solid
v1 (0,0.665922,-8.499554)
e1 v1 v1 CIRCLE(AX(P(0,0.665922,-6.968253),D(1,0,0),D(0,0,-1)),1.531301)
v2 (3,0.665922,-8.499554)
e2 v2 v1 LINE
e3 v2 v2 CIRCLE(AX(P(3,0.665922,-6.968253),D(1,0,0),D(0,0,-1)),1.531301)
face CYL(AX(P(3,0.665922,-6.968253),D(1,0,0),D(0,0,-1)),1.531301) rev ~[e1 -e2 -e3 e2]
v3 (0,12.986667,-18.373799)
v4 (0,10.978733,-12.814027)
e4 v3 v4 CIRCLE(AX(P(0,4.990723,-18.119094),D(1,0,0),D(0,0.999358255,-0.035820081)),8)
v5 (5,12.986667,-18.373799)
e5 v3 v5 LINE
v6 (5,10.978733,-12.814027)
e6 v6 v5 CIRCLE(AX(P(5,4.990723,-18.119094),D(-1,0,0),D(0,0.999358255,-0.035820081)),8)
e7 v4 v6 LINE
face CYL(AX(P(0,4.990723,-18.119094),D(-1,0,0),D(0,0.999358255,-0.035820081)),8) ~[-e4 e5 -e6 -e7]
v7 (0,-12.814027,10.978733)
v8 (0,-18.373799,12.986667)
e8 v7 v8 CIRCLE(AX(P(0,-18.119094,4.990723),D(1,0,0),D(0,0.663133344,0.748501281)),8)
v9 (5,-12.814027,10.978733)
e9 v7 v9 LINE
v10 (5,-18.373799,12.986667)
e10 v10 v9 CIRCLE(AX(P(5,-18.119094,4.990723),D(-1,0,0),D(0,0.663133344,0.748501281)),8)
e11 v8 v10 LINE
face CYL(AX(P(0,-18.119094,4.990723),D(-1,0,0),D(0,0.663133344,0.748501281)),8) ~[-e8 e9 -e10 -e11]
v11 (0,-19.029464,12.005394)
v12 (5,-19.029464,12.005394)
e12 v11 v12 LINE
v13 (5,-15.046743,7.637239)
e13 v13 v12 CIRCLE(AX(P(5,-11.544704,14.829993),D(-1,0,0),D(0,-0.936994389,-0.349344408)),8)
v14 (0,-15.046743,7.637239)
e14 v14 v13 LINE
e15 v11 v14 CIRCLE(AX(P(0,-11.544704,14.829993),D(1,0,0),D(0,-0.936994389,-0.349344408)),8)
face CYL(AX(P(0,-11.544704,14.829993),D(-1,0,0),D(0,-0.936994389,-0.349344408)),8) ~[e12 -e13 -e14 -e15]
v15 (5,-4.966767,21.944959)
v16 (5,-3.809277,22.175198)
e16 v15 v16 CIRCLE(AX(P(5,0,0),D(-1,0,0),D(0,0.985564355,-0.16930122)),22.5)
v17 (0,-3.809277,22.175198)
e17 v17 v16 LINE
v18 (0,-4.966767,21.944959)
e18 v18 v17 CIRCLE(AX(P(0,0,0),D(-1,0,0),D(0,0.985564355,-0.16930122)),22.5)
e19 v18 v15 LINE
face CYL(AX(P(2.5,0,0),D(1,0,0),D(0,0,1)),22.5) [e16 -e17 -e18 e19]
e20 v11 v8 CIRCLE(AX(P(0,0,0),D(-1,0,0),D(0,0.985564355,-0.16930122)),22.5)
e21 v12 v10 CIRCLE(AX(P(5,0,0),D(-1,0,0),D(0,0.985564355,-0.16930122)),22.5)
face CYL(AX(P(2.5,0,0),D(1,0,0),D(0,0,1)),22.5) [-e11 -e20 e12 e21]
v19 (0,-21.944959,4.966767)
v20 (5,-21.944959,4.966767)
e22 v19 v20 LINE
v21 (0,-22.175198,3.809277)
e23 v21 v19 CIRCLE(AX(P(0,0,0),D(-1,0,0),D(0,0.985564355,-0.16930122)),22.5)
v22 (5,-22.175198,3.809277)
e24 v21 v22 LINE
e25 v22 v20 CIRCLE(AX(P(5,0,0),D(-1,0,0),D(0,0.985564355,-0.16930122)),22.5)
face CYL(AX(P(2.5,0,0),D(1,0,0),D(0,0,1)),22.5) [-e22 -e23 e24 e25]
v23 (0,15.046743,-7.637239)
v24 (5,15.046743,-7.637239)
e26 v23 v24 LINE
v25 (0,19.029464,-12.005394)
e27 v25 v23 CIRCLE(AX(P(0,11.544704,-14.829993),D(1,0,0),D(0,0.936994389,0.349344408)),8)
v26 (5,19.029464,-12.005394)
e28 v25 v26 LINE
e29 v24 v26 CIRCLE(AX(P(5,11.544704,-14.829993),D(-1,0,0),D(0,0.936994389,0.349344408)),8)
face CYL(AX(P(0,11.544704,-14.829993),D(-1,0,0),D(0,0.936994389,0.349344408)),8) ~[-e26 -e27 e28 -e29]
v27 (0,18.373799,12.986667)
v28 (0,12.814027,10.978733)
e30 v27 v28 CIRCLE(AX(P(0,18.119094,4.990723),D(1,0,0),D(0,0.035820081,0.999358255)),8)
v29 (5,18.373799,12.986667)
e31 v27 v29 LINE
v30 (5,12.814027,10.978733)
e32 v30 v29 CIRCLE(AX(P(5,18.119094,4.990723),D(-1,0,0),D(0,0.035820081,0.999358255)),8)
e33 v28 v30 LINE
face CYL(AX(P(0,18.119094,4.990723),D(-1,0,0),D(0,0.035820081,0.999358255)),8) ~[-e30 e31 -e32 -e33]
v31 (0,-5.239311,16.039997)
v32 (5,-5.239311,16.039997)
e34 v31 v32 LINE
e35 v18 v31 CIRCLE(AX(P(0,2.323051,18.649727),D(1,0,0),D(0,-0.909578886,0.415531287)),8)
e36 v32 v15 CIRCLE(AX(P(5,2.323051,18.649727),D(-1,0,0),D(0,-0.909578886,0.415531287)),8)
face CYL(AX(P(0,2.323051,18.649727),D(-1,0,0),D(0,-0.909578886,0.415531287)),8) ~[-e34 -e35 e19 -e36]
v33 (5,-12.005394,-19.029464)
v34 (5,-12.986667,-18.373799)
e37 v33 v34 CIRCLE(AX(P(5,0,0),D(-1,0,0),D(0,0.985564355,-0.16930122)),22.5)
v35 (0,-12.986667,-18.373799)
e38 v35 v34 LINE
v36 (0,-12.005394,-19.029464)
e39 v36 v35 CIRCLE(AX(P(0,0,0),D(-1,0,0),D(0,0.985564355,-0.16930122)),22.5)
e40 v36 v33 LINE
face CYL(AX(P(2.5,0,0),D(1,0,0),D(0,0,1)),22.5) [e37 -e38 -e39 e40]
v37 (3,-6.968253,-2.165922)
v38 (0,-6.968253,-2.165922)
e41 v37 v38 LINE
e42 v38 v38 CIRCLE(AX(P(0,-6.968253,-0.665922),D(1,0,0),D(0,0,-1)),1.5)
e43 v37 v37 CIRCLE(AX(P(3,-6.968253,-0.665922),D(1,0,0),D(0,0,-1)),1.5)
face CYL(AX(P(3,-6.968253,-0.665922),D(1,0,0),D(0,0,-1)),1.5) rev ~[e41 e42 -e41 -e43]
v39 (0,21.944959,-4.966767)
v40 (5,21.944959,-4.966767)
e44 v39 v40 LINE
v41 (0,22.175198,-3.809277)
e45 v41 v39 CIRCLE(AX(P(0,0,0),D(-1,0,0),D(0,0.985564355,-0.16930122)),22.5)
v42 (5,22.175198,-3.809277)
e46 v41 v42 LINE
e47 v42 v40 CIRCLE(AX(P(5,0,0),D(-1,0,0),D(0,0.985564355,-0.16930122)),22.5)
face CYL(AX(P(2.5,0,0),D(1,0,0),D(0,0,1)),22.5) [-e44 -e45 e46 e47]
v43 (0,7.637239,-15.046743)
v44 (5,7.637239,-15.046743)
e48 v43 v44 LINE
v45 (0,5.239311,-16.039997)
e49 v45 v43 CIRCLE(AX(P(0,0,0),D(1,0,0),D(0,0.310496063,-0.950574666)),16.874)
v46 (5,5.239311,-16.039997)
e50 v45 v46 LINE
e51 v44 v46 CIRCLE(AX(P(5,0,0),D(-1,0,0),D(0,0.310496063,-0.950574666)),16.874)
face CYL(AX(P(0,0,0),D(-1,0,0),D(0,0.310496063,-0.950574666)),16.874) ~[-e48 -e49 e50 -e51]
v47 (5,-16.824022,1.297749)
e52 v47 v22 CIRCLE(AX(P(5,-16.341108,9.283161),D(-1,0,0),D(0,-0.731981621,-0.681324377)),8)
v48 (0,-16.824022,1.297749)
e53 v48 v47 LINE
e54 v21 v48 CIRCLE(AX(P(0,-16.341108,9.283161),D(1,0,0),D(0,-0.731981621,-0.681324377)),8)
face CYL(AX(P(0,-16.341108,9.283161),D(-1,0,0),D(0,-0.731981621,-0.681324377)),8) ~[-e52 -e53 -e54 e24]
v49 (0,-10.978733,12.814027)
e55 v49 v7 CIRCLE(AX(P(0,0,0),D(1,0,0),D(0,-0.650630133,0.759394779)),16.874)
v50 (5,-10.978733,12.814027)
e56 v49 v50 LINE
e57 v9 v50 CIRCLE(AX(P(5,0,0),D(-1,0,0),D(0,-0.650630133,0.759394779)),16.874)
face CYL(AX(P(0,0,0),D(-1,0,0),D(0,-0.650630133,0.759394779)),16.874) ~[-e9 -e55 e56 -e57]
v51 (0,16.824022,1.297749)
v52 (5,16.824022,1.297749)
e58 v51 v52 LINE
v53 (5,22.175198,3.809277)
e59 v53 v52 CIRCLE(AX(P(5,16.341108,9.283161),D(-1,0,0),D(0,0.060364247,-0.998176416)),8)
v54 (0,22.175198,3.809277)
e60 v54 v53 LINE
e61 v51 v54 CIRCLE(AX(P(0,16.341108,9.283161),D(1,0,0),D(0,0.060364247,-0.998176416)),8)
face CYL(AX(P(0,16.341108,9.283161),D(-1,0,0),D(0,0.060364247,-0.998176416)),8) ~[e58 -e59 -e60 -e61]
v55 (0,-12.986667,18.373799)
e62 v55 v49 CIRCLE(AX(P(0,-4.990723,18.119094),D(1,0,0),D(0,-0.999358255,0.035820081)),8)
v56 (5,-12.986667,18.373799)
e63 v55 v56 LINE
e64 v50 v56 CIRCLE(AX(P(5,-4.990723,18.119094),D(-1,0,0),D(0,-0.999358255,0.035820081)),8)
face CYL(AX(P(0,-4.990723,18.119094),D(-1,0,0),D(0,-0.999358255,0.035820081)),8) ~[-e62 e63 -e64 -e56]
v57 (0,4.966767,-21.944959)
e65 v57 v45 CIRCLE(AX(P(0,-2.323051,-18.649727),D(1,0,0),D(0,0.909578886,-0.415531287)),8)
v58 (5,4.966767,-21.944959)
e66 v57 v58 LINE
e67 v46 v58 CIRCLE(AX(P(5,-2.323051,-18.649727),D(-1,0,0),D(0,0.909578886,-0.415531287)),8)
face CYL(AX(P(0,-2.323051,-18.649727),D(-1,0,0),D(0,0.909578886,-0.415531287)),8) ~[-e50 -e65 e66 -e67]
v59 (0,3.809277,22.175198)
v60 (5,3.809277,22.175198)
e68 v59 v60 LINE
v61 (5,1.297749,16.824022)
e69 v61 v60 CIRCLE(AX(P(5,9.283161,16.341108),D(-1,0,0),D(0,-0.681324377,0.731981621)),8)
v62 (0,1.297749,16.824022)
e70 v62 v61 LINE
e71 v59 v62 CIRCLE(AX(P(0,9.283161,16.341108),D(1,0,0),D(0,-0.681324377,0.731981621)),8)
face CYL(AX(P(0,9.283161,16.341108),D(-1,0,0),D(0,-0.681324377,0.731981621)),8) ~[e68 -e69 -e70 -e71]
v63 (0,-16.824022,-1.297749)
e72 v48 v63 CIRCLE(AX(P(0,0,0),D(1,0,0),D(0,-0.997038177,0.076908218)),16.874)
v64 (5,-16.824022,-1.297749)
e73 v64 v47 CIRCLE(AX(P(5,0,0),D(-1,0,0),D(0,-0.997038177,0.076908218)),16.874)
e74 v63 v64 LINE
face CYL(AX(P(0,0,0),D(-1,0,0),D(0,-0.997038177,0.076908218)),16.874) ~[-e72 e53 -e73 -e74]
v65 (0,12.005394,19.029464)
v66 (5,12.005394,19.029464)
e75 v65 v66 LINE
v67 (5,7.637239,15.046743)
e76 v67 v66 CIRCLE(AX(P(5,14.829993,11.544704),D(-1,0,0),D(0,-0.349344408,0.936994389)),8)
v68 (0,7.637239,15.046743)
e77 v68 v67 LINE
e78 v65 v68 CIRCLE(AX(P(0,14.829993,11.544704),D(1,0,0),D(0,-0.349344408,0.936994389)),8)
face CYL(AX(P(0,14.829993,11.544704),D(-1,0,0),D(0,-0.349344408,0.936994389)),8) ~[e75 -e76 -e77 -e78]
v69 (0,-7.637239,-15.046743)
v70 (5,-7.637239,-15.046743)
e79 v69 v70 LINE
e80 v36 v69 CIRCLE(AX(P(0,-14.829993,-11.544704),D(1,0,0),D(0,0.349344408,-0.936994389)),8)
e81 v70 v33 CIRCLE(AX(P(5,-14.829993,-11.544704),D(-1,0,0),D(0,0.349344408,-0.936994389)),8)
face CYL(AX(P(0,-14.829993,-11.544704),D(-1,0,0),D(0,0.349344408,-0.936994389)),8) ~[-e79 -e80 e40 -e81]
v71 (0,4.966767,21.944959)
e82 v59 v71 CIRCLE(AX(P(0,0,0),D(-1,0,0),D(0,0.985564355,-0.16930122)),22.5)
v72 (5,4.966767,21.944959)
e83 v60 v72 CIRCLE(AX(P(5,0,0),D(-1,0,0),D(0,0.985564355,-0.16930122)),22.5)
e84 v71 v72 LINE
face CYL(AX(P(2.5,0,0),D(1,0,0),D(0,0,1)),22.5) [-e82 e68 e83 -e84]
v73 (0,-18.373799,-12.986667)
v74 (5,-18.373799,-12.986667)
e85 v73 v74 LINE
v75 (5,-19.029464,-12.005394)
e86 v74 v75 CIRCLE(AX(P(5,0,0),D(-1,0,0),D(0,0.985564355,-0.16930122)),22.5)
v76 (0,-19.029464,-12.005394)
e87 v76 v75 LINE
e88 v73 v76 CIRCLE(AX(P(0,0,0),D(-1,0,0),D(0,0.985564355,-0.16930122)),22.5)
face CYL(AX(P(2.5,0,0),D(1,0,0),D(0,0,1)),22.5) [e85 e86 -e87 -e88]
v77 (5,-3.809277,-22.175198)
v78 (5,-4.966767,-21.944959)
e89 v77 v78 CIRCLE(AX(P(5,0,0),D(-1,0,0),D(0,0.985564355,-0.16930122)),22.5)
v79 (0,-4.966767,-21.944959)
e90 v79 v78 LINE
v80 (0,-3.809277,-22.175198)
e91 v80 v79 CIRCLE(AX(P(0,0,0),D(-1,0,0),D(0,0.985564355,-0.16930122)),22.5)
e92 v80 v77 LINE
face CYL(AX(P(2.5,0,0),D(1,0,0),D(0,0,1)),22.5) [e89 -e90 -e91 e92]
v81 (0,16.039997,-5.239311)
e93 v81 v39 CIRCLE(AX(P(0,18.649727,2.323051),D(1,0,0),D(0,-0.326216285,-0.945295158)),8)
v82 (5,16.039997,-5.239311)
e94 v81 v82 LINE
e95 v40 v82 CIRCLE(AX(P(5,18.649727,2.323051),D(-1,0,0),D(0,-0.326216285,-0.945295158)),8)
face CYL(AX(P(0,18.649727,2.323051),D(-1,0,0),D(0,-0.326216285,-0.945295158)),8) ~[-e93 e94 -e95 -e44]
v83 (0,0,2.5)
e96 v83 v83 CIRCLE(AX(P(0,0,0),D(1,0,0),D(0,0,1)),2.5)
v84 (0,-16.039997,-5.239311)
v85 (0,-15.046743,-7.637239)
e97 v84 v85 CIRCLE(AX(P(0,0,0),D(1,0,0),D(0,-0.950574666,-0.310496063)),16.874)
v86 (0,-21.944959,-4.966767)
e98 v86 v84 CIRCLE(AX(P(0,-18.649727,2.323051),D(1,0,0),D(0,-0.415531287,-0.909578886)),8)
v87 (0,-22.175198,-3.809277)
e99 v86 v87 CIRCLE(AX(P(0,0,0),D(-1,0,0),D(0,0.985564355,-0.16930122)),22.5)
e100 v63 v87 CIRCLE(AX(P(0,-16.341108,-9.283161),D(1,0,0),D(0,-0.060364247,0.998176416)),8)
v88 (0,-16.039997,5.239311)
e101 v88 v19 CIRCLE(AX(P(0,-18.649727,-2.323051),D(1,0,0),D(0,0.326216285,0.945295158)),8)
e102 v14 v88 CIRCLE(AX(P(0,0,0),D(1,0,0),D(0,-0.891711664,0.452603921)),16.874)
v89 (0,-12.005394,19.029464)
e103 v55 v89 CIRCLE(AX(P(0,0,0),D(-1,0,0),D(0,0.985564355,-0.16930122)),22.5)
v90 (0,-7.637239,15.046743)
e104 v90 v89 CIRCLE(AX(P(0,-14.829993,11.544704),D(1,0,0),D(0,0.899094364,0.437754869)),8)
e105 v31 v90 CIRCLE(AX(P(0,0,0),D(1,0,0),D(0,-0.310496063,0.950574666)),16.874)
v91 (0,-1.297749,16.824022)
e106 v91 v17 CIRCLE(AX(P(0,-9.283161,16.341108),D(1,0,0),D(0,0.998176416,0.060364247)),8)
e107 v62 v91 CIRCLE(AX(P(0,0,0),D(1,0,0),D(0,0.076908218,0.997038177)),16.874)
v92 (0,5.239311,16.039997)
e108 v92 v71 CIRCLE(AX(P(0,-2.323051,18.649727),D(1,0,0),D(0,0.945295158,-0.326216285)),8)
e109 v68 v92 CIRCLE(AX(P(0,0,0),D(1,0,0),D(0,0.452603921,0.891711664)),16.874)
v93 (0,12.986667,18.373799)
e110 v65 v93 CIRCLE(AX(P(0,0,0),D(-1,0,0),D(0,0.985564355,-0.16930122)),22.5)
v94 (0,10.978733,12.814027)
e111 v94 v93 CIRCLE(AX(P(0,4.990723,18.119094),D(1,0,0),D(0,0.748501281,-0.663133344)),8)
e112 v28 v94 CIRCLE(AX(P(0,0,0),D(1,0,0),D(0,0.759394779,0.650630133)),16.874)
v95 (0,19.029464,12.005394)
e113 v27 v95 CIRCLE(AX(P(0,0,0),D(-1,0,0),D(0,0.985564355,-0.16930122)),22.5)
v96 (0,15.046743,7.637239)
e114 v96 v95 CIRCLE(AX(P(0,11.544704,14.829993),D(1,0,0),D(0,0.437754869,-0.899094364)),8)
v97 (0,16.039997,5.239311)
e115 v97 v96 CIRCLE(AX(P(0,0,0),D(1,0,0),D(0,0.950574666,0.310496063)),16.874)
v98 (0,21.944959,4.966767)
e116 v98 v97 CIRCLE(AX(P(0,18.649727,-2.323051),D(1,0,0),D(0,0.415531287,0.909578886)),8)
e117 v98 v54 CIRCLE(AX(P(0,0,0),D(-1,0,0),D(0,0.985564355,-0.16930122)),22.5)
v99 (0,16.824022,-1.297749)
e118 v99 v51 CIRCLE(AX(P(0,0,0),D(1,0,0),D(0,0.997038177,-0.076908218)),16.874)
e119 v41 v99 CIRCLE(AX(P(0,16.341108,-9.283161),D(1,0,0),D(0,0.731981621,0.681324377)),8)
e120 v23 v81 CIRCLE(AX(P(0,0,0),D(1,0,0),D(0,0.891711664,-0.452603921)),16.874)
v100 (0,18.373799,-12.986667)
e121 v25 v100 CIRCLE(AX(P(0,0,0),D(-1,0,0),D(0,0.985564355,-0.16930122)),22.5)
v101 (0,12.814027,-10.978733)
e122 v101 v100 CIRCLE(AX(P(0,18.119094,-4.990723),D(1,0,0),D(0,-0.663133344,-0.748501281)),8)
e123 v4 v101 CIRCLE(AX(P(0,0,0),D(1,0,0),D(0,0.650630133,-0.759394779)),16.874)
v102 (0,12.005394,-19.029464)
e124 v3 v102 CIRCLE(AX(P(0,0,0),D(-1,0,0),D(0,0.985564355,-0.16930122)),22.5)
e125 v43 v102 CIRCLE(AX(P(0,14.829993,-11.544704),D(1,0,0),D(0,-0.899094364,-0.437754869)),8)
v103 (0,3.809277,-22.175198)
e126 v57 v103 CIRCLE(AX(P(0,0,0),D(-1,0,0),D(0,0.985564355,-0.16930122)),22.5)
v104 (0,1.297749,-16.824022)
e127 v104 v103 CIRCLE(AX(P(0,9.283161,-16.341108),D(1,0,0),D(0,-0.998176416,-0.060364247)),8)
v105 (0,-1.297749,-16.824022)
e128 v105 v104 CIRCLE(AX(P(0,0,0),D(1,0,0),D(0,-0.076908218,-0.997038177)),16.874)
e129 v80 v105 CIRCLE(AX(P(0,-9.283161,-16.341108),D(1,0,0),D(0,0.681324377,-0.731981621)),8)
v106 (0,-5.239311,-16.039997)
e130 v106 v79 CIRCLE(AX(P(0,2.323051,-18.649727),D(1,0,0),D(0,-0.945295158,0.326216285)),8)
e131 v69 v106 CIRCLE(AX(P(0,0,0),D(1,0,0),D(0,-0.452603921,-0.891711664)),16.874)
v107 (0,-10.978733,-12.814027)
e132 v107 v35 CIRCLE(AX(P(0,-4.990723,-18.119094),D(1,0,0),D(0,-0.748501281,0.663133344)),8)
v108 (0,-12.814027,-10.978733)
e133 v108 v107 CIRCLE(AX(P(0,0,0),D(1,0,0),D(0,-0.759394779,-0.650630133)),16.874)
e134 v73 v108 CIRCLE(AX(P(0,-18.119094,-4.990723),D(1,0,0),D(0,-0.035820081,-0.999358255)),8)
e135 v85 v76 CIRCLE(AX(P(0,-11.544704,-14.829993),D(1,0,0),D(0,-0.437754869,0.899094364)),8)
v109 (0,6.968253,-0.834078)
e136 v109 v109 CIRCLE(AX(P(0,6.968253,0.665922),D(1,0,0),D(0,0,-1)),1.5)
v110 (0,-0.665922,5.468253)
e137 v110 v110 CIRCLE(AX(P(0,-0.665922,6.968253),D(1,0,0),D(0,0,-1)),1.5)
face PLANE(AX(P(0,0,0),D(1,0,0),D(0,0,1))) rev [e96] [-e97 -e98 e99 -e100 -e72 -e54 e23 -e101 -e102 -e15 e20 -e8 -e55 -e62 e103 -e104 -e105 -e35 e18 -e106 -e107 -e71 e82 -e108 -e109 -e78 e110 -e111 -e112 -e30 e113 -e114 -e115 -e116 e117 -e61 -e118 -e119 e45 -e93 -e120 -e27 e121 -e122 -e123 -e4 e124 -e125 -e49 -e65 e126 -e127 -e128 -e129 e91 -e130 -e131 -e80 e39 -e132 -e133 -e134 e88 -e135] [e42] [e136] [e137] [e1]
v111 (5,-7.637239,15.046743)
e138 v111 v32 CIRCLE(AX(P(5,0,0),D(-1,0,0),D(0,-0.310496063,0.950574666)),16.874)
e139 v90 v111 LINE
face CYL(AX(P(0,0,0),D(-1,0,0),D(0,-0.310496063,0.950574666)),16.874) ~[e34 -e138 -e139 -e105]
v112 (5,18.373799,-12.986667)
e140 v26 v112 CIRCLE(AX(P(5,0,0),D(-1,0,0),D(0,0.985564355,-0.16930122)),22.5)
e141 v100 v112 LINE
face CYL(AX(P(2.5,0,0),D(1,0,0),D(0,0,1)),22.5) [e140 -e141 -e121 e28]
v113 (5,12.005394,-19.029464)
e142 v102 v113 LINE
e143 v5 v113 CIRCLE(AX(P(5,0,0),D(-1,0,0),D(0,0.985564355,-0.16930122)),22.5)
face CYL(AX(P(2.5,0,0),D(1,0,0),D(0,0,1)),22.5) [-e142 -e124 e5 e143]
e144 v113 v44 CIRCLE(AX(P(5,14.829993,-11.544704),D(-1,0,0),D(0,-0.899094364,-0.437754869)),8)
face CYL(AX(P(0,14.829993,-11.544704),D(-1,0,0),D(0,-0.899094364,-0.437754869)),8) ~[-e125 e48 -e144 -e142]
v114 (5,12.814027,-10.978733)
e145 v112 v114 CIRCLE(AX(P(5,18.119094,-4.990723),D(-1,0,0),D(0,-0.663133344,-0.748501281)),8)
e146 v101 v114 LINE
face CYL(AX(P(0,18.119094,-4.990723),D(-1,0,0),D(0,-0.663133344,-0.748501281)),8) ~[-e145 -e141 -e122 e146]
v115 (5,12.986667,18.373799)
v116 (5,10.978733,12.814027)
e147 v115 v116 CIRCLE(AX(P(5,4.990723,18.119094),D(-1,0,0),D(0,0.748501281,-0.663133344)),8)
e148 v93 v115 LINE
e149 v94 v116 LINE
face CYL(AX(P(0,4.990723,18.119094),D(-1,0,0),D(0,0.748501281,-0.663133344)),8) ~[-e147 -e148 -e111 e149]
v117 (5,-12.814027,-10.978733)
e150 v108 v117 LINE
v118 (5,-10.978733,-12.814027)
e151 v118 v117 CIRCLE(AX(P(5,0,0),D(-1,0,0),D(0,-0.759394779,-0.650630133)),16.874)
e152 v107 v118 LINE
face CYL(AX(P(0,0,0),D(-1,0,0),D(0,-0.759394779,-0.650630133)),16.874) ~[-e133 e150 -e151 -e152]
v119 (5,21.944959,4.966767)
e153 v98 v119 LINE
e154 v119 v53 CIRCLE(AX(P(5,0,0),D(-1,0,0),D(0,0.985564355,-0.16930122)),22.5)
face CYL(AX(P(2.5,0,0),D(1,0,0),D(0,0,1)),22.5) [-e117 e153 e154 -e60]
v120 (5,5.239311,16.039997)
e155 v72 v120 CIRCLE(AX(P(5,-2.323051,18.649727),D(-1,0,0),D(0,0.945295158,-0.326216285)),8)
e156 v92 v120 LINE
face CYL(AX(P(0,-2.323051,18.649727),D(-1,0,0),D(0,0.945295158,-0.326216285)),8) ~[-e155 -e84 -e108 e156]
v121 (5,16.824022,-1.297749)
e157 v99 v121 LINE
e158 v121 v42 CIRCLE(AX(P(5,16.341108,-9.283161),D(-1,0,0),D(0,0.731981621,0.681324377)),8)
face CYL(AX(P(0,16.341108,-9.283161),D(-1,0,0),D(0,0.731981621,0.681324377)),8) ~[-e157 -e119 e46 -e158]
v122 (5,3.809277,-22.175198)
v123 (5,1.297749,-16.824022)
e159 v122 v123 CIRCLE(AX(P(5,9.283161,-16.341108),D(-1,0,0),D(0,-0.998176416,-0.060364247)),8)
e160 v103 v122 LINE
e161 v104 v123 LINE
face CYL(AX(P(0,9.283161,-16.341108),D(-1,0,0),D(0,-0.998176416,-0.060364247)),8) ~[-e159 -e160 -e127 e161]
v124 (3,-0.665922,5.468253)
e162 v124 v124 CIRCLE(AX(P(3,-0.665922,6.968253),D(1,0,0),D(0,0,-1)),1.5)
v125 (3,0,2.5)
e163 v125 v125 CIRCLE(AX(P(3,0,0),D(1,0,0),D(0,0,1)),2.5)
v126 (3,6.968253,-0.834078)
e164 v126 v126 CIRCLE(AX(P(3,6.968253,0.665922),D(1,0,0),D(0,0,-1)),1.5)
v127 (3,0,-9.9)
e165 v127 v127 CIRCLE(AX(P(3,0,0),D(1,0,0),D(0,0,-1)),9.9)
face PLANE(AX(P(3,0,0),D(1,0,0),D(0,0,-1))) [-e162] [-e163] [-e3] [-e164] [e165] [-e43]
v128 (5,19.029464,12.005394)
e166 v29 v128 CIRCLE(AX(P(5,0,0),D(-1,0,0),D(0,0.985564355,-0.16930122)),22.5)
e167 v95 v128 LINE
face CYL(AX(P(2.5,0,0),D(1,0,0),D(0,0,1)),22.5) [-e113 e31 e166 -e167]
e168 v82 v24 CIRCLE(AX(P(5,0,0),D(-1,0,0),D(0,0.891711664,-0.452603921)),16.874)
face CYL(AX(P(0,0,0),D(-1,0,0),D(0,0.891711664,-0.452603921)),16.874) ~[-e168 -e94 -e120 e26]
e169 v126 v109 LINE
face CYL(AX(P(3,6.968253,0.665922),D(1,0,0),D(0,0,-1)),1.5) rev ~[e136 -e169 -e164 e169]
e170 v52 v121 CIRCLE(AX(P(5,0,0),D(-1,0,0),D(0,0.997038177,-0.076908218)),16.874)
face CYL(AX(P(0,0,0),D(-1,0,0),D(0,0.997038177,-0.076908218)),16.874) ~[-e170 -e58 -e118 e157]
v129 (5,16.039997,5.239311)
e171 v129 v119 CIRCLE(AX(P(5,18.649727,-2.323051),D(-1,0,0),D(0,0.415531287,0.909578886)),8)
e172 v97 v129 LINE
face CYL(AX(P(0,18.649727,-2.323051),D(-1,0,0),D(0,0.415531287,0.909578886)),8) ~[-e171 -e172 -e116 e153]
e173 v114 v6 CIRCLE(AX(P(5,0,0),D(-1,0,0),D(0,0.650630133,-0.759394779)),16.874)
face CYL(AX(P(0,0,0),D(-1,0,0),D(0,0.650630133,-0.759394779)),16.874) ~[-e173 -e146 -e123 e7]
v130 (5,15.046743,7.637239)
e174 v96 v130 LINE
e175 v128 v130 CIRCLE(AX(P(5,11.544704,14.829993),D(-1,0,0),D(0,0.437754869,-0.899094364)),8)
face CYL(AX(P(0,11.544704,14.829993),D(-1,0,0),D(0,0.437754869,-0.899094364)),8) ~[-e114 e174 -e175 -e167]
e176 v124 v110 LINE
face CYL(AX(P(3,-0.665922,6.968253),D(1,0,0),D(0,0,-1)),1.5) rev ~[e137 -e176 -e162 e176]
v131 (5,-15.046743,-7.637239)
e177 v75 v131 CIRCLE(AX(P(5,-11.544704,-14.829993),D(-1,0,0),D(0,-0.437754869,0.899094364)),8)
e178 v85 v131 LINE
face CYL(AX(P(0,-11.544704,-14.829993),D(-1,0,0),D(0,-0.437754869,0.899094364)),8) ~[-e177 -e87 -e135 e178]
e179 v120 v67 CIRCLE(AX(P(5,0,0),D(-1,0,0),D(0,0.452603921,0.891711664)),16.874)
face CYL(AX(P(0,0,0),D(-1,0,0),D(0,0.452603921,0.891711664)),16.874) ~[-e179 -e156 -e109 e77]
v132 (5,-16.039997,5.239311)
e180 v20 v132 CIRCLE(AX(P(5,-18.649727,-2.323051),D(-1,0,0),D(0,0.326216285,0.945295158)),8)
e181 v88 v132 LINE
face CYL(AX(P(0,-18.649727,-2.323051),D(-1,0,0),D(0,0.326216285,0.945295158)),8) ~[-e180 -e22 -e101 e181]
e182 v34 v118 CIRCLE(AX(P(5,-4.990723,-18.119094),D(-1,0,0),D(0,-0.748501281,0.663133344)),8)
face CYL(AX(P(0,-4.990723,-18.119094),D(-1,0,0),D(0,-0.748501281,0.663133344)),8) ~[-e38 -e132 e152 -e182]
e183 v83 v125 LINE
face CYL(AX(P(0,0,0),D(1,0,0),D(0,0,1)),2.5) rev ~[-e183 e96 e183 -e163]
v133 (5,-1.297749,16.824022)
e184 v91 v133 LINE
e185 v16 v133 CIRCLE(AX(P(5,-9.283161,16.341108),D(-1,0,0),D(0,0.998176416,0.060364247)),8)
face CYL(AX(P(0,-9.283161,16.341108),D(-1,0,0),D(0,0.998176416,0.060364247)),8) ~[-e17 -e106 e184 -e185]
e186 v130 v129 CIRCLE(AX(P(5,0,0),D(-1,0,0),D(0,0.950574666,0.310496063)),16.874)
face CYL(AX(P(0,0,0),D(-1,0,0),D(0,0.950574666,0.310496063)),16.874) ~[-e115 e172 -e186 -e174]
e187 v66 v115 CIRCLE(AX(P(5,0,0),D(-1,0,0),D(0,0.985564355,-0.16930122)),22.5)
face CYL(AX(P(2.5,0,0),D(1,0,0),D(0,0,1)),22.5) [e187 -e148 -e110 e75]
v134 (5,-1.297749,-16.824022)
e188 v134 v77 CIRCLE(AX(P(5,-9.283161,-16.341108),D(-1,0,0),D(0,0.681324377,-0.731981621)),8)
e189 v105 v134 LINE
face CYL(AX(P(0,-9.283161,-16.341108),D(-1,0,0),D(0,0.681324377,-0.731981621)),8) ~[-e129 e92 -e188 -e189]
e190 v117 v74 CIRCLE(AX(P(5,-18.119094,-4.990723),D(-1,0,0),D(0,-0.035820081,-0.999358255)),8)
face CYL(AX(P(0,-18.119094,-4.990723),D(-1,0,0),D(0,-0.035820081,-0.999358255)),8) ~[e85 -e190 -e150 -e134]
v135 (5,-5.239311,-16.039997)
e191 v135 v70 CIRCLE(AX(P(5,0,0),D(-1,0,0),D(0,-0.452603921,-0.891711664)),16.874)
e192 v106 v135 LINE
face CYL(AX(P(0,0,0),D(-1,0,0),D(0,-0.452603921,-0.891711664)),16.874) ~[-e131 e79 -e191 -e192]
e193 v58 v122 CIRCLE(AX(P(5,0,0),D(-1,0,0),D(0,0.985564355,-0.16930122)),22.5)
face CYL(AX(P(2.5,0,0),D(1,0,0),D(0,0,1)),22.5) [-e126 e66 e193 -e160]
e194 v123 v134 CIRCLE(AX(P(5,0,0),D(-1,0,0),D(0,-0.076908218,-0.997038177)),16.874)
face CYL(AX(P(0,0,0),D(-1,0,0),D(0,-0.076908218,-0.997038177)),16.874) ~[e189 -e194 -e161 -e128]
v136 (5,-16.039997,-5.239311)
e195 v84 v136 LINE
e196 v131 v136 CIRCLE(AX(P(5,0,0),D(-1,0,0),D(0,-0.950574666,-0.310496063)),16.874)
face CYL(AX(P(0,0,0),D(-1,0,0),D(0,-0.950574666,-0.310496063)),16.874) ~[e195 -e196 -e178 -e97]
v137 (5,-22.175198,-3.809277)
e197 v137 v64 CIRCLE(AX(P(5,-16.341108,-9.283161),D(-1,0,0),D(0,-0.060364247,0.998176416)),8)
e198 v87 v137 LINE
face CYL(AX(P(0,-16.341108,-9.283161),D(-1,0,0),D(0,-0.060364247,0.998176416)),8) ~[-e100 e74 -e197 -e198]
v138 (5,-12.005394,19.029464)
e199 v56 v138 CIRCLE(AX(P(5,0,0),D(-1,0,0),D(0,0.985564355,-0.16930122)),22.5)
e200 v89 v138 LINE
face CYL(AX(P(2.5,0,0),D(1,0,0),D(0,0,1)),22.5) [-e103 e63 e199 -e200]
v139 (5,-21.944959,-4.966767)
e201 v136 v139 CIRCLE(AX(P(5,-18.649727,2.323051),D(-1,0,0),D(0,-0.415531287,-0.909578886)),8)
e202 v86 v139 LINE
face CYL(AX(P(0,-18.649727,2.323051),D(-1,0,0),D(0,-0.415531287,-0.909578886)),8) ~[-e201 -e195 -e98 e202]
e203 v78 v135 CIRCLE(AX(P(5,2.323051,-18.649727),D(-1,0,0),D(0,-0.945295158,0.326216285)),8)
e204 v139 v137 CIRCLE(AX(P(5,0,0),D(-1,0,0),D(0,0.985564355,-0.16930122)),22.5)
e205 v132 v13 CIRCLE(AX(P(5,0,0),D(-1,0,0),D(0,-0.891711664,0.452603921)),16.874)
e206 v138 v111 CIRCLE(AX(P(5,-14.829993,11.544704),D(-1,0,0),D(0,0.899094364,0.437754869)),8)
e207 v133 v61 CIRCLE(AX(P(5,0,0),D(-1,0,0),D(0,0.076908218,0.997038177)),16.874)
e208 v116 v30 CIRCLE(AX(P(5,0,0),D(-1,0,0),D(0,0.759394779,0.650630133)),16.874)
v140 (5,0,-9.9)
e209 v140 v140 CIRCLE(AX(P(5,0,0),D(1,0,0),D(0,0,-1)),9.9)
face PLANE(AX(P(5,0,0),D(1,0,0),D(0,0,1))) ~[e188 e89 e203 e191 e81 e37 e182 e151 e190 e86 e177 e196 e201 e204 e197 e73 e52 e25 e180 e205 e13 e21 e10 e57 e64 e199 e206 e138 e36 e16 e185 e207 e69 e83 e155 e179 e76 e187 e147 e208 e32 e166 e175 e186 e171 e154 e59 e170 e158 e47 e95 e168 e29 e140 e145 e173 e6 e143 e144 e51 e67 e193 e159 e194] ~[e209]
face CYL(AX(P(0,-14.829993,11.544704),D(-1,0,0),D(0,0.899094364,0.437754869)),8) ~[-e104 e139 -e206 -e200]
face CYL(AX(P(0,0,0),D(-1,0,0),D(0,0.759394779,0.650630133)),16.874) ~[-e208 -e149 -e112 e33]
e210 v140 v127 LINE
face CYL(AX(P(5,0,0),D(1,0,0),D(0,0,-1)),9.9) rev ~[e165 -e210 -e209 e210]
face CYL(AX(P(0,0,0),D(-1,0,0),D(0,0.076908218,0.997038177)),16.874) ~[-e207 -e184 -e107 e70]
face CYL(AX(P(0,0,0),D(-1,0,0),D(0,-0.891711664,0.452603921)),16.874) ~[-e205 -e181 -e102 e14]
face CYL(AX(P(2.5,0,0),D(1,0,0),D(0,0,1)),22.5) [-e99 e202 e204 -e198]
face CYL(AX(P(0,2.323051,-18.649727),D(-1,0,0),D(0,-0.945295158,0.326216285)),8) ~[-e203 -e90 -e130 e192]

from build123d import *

# Parameters (mm, degrees)
BASPROSKE_W             = 5
BASPROSKE_H             = 22.5
TOOTHCUT_DEPTH          = 33.210246817
TEETHCUTS_COUNT         = 16
TEETHCUTS_ANGLE         = 337.5
BORSKE_R                = 2.5
BORE_DEPTH              = 50.0000508
ESQUISSE1_R             = 9.9
ENL_V_MAT_EXTRU_1_DEPTH = 2
ESQUISSE2_R             = 1.5
ESQUISSE2_R_2           = 1.531300803
ENL_V_MAT_EXTRU_2_DEPTH = 32.503631705


with BuildPart() as part:
    # BasProSke → Base-Revolve (revolve)
    with BuildSketch(Plane(origin=(0, 0, 0), x_dir=(1, 0, 0), z_dir=(0, 1, 0)), mode=Mode.PRIVATE) as base_revolve_sk:
        with Locations((2.5, 11.25)):
            Rectangle(BASPROSKE_W, BASPROSKE_H)
    revolve(base_revolve_sk.sketch.rotate(Axis((-10, 0, 0), (1, 0, 0)), 180), axis=Axis((-10, 0, 0), (1, 0, 0)))

    # TooCutSke → ToothCut (cut, through all)
    with BuildSketch(Plane(origin=(0, 0, 0), x_dir=(0, 0, -1), z_dir=(1, 0, 0))):
        with BuildLine():
            ThreePointArc((1.297749273, 16.824022195), (0, 16.874), (-1.297749273, 16.824022195))
            ThreePointArc((-1.297749273, 16.824022195), (-2.047921493, 19.754510488), (-3.832565589, 22.196961192))
            ThreePointArc((-3.832565589, 22.196961192), (0, 22.5254), (3.832565589, 22.196961192))
            ThreePointArc((3.832565589, 22.196961192), (2.047921493, 19.754510488), (1.297749273, 16.824022195))
        make_face()
    toothcut = extrude(amount=TOOTHCUT_DEPTH, mode=Mode.SUBTRACT)

    # TeethCuts: ToothCut ×16 about axis
    teethcuts_axis = Axis((-10, 0, 0), (1, 0, 0))
    for i in range(1, TEETHCUTS_COUNT):
        add(toothcut.rotate(teethcuts_axis, i * TEETHCUTS_ANGLE / (TEETHCUTS_COUNT - 1)), mode=Mode.SUBTRACT)

    # BorSke → Bore (cut, symmetric)
    with BuildSketch(Plane(origin=(0, 0, 0), x_dir=(0, 0, -1), z_dir=(1, 0, 0))):
        with Locations(Location((0, 0, 0), (0, 0, 180))):
            Circle(BORSKE_R)
    extrude(amount=BORE_DEPTH, both=True, mode=Mode.SUBTRACT)

    # Esquisse1 → Enlèv. mat.-Extru.1 (cut)
    with BuildSketch(Plane(origin=(5, 0, 0), x_dir=(0, 0, -1), z_dir=(1, 0, 0))):
        Circle(ESQUISSE1_R)
    extrude(amount=-ENL_V_MAT_EXTRU_1_DEPTH, mode=Mode.SUBTRACT)

    # Esquisse2 → Enlèv. mat.-Extru.2 (cut, through all)
    with BuildSketch(Plane(origin=(3, 0, 0), x_dir=(0, 0, -1), z_dir=(1, 0, 0))):
        with Locations((-0.665922194, 6.968252839)):
            Circle(ESQUISSE2_R)
        with Locations((6.968252839, 0.665922194)):
            Circle(ESQUISSE2_R_2)
        with Locations((0.665922194, -6.968252839)):
            Circle(ESQUISSE2_R)
        with Locations((-6.968252839, -0.665922194)):
            Circle(ESQUISSE2_R)
    extrude(amount=-ENL_V_MAT_EXTRU_2_DEPTH, mode=Mode.SUBTRACT)


solid = part.part
